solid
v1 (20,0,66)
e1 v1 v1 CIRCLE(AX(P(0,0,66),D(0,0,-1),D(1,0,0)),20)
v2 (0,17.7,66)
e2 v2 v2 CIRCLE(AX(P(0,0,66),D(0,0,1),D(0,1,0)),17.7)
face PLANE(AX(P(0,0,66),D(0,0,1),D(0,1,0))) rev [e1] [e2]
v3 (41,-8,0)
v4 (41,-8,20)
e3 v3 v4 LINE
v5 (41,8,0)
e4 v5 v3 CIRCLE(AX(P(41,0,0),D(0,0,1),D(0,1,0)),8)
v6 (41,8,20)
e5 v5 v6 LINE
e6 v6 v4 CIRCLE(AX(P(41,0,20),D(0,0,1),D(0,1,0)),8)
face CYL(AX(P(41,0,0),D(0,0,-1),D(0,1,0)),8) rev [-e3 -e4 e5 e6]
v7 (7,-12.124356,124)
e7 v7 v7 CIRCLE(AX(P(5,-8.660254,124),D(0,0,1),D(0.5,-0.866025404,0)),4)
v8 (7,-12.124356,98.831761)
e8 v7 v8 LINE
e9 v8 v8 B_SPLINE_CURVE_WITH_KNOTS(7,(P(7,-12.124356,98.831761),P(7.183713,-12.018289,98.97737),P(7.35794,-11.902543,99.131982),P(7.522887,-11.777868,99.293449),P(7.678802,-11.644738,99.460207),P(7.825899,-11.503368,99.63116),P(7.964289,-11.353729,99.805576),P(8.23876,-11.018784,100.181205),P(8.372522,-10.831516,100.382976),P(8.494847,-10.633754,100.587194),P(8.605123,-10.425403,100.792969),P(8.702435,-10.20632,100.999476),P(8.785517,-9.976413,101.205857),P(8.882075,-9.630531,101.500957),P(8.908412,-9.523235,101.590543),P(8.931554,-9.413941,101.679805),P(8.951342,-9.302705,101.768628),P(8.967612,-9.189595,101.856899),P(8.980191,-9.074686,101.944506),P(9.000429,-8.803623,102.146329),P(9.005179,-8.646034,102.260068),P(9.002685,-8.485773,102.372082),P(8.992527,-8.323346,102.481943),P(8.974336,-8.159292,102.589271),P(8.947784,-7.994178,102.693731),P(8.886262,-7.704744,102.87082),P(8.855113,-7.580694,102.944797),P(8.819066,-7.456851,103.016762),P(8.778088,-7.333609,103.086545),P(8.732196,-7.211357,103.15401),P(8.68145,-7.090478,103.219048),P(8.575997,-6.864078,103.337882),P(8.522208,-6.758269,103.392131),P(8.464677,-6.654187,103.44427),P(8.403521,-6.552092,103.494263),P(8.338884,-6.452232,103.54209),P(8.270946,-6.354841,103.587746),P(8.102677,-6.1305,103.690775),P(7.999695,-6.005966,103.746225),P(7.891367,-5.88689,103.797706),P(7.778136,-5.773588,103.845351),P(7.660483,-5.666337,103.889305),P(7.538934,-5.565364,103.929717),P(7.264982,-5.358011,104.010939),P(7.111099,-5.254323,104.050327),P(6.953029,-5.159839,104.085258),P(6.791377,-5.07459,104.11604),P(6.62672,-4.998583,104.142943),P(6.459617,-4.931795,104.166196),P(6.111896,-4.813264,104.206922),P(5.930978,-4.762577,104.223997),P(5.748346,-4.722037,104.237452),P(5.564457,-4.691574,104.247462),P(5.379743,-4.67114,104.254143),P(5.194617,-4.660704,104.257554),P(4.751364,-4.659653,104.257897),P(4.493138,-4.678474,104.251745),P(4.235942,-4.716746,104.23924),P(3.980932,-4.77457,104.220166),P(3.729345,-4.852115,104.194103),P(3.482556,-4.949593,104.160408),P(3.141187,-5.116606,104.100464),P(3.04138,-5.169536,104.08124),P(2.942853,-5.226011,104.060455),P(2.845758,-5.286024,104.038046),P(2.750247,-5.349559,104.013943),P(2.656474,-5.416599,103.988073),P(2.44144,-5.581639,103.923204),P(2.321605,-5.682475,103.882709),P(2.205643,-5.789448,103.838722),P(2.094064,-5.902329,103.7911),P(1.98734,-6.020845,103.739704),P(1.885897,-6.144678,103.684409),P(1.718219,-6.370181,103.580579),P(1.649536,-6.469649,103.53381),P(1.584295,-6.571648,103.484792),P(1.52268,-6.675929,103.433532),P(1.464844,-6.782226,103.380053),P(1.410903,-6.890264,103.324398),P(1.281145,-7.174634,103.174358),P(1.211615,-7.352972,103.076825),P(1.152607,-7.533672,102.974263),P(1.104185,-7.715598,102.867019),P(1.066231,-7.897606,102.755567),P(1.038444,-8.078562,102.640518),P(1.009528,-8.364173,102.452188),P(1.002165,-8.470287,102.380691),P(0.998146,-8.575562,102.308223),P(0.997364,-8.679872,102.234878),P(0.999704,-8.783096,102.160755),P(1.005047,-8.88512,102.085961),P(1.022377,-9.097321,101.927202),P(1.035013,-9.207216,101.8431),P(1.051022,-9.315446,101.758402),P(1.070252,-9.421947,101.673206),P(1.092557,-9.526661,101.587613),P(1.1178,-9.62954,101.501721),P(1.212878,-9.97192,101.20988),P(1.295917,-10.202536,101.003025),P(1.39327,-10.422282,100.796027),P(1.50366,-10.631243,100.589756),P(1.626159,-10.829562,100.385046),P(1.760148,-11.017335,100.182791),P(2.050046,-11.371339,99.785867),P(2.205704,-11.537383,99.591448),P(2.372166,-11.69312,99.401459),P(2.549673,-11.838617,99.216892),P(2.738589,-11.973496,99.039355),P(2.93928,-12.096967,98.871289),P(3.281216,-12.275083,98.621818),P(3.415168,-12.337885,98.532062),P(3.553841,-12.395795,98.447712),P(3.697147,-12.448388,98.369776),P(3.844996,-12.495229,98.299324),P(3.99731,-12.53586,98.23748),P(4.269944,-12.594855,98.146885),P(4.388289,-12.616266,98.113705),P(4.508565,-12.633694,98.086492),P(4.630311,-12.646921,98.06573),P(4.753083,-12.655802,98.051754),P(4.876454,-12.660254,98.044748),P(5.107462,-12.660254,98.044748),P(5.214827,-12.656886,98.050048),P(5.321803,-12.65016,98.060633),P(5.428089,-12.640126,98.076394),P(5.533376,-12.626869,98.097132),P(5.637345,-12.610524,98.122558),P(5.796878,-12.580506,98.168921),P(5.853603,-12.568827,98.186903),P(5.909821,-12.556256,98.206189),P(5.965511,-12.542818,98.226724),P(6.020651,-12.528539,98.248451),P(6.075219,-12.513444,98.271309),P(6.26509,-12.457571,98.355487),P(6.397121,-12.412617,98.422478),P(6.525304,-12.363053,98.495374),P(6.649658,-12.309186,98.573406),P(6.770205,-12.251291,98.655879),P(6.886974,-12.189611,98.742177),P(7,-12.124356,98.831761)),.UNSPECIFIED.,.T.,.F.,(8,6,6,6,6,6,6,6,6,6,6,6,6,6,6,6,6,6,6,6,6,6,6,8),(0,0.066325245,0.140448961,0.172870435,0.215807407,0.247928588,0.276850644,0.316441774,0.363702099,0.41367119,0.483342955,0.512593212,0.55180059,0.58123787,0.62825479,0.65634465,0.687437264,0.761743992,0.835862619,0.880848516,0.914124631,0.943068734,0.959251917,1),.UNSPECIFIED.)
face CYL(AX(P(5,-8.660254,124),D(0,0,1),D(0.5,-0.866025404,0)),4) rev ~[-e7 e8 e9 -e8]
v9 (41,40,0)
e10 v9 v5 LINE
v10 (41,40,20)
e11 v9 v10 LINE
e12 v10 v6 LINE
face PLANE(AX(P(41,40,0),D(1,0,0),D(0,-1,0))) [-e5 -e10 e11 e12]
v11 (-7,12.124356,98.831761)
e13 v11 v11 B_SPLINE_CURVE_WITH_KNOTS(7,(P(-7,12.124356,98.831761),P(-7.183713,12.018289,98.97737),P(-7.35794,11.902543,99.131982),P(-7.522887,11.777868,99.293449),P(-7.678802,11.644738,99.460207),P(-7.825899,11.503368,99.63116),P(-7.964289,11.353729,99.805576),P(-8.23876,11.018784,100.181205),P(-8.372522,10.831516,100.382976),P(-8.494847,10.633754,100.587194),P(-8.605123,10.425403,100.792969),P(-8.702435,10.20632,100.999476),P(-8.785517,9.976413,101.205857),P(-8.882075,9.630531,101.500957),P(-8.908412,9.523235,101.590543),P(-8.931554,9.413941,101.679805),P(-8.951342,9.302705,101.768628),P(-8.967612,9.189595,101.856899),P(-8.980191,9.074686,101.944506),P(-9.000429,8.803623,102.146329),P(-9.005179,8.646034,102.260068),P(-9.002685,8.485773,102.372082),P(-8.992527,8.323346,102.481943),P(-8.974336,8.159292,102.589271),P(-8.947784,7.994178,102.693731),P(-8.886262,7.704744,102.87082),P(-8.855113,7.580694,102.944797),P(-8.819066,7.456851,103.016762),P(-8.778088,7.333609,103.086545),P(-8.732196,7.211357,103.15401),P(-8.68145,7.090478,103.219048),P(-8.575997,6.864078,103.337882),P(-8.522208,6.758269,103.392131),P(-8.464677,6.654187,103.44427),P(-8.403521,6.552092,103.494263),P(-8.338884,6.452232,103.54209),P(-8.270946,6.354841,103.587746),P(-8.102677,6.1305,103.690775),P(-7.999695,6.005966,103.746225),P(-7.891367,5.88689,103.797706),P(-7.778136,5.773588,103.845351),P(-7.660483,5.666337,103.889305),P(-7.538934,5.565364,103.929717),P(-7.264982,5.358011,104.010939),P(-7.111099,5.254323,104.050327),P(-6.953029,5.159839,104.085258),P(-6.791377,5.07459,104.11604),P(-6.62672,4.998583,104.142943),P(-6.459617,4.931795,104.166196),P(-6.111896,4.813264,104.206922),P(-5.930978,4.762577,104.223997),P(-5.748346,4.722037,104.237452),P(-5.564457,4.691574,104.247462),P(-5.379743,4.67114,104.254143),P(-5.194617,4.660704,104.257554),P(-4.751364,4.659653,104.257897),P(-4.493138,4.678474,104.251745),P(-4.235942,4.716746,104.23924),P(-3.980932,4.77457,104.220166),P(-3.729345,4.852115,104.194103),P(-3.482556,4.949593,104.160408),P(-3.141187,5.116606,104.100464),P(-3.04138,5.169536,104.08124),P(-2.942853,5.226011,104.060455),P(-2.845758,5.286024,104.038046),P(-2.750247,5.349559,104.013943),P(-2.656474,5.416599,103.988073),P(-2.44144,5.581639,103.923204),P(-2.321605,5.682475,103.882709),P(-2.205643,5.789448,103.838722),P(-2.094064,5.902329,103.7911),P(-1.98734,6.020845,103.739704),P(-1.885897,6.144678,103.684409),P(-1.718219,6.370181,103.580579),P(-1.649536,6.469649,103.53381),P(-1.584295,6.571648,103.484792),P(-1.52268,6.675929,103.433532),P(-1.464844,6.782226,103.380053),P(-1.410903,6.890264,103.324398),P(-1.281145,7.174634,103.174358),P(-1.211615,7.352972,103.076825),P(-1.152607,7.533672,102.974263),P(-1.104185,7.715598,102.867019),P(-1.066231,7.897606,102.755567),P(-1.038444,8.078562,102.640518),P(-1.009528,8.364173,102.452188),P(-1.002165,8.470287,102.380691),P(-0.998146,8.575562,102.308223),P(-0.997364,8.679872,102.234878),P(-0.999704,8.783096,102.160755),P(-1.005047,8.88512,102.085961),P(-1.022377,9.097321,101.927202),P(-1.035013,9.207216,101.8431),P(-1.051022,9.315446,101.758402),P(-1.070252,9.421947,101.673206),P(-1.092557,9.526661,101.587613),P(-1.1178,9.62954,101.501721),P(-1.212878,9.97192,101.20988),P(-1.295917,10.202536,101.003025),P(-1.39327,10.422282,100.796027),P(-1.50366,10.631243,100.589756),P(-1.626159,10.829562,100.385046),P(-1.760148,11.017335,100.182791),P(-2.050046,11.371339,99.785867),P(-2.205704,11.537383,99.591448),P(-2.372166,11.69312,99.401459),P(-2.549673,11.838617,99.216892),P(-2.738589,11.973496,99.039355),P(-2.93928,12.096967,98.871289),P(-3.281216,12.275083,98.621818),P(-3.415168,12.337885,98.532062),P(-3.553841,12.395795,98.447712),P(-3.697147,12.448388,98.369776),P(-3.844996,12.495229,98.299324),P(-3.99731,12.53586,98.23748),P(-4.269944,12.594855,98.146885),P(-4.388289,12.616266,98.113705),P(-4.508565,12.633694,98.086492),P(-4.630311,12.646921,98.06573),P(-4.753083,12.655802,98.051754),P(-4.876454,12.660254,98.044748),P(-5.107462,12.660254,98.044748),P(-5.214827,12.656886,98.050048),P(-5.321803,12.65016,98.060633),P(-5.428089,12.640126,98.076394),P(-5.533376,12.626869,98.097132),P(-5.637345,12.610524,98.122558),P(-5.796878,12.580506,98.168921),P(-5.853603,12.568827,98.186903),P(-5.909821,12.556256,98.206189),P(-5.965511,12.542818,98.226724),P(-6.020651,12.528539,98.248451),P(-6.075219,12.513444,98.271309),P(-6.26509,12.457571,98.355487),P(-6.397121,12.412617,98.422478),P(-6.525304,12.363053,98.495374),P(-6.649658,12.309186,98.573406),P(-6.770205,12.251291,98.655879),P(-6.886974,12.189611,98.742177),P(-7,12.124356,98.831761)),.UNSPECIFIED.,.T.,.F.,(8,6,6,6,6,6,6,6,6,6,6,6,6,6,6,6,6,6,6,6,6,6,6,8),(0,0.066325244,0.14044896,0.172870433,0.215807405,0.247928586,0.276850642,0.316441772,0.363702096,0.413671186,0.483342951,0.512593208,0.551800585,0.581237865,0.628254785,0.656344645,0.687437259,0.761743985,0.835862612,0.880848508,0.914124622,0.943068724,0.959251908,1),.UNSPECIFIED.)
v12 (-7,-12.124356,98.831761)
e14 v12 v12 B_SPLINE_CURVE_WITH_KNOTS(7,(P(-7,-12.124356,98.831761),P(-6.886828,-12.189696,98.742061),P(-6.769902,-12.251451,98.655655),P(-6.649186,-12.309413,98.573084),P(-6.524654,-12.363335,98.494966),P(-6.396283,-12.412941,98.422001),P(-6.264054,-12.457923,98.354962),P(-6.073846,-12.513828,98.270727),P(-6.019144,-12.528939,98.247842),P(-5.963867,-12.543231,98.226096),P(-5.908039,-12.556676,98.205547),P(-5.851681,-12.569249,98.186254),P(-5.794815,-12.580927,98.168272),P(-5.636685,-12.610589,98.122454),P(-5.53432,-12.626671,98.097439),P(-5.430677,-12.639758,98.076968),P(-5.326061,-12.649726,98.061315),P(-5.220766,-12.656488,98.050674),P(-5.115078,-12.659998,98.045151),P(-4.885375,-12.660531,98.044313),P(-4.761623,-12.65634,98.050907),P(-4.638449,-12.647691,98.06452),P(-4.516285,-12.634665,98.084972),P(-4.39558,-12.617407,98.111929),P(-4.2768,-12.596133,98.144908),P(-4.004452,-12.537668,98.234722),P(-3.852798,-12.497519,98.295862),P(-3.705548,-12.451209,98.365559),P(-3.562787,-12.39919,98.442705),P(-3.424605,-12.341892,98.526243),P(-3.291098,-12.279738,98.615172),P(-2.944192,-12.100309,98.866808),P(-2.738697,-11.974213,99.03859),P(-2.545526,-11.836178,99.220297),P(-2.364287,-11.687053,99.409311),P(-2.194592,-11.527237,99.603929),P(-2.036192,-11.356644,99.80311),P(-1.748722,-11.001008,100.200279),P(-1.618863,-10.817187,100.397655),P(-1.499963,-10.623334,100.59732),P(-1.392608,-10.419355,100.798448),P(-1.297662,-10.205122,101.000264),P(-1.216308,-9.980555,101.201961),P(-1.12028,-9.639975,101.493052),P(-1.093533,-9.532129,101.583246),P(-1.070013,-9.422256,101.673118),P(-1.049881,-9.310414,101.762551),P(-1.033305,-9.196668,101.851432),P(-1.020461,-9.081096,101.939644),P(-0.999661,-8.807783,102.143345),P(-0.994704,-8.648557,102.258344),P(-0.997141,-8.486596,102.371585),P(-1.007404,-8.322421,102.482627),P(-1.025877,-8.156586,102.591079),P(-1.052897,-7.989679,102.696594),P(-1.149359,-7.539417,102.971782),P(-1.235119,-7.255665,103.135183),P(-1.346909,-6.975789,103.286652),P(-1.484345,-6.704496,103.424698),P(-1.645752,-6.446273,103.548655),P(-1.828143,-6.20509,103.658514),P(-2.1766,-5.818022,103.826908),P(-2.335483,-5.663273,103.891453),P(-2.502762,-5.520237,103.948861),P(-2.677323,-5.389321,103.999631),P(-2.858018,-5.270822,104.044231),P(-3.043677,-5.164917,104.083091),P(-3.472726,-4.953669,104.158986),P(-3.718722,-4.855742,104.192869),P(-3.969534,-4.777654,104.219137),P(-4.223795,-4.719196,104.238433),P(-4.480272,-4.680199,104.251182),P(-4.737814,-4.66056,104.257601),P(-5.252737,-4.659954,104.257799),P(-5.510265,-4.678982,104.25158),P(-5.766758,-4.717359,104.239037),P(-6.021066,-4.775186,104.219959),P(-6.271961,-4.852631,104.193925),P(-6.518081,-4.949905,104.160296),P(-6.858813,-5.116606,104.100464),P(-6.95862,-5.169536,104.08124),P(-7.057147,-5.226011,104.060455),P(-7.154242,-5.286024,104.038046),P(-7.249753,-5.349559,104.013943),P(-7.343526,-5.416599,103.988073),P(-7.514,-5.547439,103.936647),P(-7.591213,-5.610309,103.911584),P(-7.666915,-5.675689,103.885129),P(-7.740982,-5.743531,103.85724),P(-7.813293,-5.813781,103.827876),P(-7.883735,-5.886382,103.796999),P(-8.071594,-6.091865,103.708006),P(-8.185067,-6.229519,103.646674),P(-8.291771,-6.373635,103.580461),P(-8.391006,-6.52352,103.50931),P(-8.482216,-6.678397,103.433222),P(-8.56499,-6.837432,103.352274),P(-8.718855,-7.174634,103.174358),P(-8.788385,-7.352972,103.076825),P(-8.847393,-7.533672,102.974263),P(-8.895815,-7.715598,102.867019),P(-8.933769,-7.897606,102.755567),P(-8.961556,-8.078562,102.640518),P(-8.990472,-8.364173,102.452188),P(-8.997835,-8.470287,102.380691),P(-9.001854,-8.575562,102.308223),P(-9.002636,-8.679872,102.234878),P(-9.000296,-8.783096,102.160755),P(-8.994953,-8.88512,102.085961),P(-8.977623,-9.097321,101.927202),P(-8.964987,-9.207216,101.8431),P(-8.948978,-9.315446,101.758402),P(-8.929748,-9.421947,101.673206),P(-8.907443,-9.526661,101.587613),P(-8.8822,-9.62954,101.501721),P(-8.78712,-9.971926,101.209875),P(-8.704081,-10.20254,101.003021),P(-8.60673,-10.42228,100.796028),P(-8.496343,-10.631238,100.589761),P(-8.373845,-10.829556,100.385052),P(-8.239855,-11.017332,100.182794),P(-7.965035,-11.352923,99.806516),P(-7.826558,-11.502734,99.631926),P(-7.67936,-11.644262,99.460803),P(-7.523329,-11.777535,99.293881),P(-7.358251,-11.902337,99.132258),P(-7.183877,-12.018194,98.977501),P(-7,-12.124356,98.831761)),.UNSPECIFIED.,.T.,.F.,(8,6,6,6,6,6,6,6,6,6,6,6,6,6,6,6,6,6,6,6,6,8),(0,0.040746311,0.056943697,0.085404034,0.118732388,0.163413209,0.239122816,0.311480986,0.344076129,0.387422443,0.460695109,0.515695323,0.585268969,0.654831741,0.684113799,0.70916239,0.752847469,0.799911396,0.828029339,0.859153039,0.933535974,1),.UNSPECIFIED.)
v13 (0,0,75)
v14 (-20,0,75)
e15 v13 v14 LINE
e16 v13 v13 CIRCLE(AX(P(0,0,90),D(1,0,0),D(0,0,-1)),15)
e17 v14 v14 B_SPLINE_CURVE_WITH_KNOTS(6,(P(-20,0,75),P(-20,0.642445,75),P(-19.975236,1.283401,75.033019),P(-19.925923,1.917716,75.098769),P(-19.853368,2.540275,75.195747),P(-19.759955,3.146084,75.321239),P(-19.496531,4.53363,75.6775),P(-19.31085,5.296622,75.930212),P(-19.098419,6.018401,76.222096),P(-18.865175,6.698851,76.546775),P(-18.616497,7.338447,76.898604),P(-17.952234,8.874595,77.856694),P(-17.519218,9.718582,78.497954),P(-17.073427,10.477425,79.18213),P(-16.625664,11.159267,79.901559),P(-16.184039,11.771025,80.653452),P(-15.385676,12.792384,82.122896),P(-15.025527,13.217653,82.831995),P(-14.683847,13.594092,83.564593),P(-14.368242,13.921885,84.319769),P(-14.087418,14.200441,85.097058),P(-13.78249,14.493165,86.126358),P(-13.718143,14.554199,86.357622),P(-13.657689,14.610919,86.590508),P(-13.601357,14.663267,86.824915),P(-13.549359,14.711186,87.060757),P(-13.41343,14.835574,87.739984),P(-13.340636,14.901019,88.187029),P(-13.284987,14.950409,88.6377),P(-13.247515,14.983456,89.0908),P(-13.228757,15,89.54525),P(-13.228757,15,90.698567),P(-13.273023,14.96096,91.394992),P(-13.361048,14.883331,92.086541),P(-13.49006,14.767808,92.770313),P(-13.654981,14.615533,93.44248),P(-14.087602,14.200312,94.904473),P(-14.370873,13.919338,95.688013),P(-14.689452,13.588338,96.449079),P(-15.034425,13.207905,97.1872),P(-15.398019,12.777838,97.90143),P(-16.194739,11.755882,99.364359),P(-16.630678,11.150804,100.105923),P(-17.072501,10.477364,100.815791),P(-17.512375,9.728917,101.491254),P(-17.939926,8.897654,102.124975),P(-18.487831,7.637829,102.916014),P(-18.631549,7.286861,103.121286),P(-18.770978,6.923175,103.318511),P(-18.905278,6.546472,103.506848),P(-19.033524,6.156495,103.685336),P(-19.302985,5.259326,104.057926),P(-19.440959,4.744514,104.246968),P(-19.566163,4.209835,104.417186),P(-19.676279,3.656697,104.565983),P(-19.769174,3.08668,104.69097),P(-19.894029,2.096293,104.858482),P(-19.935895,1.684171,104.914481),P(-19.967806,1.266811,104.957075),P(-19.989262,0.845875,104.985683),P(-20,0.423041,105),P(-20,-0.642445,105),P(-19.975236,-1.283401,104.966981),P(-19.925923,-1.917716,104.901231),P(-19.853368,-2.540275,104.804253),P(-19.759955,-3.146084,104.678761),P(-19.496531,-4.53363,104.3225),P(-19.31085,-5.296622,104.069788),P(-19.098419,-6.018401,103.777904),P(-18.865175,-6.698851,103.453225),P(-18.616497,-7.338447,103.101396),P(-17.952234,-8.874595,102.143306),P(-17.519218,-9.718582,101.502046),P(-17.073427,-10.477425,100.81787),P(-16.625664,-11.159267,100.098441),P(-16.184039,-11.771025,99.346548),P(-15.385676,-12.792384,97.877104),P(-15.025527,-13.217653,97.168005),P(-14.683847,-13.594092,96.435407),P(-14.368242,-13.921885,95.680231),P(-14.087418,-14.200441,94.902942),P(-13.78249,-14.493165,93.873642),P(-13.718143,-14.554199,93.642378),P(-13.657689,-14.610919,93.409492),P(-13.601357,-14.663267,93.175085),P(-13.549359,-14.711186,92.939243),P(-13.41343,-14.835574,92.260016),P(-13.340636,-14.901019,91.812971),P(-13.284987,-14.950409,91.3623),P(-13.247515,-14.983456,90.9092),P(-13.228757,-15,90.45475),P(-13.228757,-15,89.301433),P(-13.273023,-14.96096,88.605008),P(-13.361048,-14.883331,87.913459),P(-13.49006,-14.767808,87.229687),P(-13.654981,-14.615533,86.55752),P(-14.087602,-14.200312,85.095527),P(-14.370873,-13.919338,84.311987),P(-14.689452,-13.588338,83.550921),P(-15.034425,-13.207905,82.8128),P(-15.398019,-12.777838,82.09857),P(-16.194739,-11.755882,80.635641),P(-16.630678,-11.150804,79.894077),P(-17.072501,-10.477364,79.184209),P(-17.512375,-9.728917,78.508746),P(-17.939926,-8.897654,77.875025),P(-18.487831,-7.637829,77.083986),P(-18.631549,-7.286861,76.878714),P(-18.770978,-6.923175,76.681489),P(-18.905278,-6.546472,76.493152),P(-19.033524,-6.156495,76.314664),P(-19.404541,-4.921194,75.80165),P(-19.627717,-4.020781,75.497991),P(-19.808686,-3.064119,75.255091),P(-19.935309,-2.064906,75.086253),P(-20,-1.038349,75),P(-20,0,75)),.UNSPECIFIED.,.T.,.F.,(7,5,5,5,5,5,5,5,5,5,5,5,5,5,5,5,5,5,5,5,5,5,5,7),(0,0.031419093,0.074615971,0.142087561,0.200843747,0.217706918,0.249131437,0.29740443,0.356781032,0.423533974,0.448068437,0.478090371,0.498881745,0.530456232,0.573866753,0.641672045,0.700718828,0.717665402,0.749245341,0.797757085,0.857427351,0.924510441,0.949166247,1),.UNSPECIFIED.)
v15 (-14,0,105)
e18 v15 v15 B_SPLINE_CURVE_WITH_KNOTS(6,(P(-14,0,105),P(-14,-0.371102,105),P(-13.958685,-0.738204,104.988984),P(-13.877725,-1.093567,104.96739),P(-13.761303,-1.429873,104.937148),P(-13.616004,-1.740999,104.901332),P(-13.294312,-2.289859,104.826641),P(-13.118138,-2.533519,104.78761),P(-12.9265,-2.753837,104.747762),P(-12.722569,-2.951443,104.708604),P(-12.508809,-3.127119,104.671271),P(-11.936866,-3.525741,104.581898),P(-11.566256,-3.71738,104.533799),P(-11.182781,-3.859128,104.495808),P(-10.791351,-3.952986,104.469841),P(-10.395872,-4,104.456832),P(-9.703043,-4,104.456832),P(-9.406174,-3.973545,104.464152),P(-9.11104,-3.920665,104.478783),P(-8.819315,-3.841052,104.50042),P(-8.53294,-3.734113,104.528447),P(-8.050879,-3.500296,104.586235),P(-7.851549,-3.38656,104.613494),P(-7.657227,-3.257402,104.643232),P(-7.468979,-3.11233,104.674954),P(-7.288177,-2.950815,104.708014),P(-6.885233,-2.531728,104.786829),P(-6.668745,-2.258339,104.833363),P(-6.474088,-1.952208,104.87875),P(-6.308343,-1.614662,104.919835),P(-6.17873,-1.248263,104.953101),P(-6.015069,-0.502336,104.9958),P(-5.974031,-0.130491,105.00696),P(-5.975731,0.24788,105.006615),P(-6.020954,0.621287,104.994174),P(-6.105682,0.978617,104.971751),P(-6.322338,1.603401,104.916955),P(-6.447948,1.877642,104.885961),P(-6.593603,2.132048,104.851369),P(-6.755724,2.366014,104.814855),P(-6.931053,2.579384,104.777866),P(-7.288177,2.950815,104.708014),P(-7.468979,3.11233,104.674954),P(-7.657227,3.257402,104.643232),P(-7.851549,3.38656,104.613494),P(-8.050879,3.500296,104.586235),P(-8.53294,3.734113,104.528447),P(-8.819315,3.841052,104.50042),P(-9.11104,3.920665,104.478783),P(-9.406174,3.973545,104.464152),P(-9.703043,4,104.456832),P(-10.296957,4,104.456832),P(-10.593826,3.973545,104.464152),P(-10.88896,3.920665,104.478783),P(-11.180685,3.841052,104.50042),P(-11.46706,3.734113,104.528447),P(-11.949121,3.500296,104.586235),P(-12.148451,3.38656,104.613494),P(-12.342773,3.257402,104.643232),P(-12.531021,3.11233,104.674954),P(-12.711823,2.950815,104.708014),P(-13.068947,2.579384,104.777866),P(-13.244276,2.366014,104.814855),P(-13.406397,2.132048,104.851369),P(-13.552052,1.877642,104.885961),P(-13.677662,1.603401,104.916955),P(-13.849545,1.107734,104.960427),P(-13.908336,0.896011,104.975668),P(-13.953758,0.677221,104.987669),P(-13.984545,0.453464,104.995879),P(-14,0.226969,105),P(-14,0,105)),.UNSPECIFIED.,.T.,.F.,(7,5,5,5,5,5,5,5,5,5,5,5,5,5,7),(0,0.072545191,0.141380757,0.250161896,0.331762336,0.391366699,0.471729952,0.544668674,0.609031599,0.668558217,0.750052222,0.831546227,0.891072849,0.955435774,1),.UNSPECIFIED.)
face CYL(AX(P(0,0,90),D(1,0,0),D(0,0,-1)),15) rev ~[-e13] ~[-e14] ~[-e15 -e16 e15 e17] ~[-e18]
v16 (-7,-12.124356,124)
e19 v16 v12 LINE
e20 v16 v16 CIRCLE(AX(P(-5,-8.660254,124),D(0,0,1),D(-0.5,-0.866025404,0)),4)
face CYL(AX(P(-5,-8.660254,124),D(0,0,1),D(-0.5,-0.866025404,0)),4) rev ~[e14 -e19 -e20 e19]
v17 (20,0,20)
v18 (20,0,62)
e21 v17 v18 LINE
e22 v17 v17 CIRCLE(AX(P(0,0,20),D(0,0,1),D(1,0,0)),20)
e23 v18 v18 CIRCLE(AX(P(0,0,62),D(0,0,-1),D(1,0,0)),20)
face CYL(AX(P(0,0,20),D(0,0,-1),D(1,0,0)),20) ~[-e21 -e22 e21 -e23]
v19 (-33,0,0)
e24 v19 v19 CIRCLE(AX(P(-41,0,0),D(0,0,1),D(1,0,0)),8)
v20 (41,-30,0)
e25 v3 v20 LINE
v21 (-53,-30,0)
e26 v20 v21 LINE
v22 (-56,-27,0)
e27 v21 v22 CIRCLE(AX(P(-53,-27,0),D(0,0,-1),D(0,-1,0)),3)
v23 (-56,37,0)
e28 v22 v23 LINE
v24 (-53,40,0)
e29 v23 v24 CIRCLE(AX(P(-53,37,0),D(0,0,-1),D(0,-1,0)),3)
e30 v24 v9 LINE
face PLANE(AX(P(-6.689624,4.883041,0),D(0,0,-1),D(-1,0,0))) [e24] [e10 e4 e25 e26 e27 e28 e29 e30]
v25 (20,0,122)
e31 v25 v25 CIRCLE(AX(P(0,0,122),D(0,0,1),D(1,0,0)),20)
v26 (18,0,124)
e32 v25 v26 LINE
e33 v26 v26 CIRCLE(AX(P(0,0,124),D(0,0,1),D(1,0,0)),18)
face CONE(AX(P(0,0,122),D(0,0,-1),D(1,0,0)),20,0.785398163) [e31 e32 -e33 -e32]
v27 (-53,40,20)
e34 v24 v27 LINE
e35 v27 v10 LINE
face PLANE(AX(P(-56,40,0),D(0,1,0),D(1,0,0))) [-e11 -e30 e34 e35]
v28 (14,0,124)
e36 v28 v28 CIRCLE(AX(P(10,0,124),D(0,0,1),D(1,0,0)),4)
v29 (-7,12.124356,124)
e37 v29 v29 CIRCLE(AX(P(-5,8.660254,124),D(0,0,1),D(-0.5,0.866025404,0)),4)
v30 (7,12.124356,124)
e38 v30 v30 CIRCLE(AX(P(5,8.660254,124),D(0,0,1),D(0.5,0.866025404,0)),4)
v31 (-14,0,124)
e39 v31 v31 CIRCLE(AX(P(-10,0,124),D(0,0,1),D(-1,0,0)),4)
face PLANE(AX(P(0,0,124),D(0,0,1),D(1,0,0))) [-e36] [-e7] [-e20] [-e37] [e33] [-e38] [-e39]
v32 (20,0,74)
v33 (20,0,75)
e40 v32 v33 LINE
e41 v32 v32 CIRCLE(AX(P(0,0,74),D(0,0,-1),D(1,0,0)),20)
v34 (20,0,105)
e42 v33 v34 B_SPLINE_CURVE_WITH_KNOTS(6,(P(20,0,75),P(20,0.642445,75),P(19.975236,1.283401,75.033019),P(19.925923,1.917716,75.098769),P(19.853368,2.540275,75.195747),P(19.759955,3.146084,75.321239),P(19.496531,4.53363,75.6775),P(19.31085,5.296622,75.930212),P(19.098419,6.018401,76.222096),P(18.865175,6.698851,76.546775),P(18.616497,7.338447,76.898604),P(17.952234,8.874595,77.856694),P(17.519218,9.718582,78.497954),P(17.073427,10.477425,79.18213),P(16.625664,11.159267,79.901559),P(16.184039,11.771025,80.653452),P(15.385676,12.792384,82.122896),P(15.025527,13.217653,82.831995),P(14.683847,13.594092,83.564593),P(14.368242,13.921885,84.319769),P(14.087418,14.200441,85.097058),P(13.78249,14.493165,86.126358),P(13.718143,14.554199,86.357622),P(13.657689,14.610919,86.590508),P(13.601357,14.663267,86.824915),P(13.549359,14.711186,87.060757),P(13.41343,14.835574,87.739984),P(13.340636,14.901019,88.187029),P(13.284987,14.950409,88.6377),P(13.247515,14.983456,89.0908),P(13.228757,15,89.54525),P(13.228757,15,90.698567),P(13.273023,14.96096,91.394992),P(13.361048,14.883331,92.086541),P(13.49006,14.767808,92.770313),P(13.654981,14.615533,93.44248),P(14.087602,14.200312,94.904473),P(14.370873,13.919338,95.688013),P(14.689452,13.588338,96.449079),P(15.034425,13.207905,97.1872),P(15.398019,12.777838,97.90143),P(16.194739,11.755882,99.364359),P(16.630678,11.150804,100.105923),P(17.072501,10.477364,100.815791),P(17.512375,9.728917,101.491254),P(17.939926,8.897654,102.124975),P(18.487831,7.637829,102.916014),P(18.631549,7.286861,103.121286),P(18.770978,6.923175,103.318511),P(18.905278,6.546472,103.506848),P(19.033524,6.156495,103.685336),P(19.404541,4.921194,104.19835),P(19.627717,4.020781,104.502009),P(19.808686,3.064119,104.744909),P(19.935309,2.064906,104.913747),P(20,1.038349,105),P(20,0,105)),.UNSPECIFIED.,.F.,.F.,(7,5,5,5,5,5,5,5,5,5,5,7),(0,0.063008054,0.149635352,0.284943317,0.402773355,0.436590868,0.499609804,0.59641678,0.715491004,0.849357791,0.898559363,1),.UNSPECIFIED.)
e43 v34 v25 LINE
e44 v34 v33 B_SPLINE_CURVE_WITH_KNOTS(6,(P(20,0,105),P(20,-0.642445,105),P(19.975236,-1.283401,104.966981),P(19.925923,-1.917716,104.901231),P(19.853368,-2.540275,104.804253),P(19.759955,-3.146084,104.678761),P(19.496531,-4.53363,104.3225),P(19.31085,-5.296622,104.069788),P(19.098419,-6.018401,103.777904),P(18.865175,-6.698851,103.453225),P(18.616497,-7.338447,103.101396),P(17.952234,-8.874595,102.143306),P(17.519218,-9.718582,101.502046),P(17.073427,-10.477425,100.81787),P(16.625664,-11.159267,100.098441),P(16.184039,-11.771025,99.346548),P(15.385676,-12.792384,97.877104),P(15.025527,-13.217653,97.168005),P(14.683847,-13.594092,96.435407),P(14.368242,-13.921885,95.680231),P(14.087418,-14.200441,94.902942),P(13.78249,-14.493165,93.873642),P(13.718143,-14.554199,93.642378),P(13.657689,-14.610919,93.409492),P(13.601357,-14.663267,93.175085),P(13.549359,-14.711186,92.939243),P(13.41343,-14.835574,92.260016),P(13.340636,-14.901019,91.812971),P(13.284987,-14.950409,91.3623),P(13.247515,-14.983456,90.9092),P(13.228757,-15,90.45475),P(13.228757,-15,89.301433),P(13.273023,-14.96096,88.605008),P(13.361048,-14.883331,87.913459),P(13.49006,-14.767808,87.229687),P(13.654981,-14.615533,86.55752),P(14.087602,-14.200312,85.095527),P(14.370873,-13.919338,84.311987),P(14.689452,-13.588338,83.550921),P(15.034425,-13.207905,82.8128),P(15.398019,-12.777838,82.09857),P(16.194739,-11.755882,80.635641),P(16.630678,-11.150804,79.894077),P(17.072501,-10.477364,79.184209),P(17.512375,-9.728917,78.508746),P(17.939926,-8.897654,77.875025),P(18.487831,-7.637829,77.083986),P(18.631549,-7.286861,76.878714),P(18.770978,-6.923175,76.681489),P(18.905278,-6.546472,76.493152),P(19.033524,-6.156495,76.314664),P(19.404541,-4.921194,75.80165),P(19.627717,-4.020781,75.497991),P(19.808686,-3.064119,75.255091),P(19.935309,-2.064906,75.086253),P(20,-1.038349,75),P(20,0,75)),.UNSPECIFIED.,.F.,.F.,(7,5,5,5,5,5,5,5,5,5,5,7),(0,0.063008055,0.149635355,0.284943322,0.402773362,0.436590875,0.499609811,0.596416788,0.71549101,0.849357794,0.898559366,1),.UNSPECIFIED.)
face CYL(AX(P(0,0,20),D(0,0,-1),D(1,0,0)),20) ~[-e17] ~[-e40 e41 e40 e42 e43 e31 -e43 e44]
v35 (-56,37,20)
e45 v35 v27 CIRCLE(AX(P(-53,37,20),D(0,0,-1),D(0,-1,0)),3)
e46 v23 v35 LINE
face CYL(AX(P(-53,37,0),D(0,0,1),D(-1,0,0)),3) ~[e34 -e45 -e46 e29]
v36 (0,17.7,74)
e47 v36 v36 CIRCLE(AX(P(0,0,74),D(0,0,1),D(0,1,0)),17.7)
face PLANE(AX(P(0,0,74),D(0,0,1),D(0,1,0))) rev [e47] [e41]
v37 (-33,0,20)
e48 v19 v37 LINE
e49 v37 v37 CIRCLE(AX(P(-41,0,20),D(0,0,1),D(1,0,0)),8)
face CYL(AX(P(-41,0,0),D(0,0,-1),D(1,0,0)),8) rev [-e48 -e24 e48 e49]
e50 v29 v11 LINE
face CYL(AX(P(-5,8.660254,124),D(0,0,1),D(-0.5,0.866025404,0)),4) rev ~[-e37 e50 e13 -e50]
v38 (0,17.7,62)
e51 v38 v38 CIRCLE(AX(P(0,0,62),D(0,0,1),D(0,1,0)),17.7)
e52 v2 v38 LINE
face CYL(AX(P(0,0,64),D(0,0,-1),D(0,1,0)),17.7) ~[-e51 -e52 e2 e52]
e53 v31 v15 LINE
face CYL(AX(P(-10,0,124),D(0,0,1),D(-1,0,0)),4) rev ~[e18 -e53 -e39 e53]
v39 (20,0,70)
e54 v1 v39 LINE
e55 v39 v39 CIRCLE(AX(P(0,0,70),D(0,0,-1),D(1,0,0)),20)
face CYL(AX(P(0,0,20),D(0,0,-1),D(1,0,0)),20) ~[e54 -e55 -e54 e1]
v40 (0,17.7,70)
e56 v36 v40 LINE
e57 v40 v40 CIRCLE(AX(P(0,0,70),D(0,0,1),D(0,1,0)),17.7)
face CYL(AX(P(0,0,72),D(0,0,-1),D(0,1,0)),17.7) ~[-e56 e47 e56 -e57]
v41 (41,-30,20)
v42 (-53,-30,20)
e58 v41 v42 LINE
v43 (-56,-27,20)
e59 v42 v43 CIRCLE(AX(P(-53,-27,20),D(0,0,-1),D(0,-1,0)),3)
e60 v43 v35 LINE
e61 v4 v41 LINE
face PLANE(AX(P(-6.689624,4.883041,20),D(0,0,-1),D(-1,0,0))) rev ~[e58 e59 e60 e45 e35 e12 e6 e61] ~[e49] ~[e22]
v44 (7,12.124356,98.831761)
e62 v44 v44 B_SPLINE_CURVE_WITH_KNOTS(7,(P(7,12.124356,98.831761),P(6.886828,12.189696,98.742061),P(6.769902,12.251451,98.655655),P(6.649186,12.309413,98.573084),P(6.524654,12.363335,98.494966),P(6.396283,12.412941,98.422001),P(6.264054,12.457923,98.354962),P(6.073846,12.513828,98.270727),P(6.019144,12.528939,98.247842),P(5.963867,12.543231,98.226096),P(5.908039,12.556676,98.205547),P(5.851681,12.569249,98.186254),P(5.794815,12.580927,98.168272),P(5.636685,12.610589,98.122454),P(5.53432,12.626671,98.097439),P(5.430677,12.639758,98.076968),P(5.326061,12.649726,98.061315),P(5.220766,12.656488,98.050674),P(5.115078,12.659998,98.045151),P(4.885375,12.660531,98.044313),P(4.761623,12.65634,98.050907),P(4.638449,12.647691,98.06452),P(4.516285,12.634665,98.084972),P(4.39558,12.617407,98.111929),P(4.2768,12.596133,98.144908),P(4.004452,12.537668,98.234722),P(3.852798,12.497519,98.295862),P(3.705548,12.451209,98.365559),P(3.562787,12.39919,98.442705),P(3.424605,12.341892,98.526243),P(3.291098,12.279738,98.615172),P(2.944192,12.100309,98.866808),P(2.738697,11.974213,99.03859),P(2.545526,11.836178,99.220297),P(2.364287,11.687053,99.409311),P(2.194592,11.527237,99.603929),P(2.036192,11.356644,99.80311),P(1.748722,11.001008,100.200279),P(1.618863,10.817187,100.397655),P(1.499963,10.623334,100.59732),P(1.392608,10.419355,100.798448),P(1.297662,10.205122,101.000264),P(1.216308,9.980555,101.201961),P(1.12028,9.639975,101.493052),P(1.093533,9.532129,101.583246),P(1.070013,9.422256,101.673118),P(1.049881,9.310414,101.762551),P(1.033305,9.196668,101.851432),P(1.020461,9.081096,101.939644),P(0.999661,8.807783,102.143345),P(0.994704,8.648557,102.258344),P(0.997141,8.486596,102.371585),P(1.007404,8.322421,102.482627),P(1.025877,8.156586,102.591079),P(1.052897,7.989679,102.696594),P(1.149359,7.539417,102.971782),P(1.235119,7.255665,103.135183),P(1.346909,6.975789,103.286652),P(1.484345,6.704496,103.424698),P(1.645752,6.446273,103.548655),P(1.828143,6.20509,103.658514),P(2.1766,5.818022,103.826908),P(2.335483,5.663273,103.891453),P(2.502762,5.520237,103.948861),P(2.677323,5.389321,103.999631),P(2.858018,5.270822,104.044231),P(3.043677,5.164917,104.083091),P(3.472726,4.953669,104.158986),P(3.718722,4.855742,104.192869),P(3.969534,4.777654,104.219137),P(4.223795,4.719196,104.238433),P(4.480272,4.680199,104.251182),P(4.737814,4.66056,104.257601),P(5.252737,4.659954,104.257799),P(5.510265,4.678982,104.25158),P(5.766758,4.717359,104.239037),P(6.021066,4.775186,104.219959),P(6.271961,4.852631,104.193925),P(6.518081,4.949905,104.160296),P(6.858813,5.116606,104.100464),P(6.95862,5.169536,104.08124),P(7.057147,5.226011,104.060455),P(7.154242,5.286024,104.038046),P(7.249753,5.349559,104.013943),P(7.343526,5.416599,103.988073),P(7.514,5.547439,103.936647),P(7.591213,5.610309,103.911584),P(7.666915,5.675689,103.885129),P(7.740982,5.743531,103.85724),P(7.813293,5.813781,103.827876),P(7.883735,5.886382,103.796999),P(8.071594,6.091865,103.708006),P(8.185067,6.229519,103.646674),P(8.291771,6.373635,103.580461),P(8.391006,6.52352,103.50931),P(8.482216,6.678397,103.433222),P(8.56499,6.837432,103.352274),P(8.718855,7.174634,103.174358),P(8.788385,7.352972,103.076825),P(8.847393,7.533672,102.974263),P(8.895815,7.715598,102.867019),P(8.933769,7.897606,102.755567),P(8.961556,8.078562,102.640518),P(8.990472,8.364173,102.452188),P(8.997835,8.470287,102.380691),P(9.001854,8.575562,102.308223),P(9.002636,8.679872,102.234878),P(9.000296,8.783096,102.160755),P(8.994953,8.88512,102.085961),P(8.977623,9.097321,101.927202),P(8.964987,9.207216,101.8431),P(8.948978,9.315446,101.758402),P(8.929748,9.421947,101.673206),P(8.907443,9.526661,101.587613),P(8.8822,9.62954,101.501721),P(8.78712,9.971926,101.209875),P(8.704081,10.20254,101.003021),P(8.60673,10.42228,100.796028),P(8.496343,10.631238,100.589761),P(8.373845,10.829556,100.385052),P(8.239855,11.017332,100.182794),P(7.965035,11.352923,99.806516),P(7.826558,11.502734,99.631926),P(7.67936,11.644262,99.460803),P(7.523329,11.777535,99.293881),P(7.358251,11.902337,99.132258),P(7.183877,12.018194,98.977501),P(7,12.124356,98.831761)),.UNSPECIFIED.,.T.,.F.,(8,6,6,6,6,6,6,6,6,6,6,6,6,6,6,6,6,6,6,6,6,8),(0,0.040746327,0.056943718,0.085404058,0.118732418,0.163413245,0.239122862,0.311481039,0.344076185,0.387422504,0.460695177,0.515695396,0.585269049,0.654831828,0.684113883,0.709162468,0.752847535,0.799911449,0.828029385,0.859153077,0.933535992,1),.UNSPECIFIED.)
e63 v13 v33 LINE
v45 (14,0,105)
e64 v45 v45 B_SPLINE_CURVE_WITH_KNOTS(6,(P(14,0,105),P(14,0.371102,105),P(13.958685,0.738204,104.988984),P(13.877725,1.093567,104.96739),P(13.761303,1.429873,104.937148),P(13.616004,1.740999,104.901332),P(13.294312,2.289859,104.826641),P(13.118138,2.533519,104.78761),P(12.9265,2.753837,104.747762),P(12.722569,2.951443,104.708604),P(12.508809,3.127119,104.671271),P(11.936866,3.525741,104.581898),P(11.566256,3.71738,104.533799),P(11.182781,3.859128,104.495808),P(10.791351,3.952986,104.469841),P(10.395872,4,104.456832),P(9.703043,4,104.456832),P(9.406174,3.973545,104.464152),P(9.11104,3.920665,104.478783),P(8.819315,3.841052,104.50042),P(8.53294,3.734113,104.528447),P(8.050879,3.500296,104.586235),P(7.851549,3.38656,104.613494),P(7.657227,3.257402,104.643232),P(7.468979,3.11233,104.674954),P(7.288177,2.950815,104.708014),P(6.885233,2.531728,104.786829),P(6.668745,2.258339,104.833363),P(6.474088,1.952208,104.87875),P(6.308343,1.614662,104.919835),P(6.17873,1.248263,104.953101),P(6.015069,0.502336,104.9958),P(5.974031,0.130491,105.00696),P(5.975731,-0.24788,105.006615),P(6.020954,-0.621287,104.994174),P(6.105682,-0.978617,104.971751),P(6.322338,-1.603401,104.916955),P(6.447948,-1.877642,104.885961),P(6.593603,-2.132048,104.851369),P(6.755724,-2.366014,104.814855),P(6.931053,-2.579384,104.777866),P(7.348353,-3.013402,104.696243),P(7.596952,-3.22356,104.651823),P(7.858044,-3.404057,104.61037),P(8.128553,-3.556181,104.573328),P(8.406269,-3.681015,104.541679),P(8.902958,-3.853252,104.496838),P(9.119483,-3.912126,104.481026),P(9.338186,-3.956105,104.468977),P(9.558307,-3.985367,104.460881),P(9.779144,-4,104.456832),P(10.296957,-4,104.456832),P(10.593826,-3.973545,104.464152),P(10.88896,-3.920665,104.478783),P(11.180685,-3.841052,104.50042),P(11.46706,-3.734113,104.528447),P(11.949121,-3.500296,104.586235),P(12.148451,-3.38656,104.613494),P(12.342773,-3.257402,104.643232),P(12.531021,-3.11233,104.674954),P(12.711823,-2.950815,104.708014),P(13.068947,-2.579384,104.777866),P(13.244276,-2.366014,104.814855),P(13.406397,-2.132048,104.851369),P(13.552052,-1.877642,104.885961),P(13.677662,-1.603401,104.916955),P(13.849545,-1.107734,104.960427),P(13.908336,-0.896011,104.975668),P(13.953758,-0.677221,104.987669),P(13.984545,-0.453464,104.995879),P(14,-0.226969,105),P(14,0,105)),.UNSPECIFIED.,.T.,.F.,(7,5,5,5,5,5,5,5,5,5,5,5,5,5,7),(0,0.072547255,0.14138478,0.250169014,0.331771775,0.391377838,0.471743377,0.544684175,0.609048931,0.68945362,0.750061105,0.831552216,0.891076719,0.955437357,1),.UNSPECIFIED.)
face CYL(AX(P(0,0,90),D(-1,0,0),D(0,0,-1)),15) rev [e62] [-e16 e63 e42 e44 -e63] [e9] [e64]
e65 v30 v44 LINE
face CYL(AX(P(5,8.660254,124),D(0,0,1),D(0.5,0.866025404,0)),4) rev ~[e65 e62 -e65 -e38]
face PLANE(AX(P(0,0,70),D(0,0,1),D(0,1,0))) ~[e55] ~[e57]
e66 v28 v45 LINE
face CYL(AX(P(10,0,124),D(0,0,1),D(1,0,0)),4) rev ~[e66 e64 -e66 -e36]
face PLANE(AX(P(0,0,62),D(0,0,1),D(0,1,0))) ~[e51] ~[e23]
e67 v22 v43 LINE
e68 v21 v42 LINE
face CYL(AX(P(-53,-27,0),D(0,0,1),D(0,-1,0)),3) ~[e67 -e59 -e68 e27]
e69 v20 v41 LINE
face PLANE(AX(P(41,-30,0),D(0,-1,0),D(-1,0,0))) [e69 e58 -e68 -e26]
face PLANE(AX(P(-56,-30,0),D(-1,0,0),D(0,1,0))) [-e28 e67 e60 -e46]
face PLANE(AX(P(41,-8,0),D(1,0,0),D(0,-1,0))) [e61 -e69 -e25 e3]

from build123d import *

# Parameters (mm, degrees)
SKETCH1_R               = 8
BOSS_EXTRUDE1_DEPTH     = 20
SKETCH2_R               = 20
BOSS_EXTRUDE2_DEPTH     = 104
SKETCH3_R               = 15
CUT_EXTRUDE1_DEPTH      = 42
CUT_EXTRUDE1_DEPTH_BACK = 57
SKETCH4_W               = 4
SKETCH4_H               = 2.3
SKETCH5_R               = 4
CUT_EXTRUDE2_DEPTH      = 30
CIRPATTERN1_COUNT       = 6
FILLET1_R               = 3
CHAMFER1_SIZE           = 2


with BuildPart() as part:
    # Sketch1 → Boss-Extrude1 (new body)
    with BuildSketch(Plane.XY):
        with BuildLine():
            Line((41, -8), (41, -30))
            Line((41, -30), (-56, -30))
            Line((-56, -30), (-56, 40))
            Line((-56, 40), (41, 40))
            Line((41, 40), (41, 8))
            ThreePointArc((41, 8), (33, 0), (41, -8))
        make_face()
        with Locations((-41, 0)):
            Circle(SKETCH1_R, mode=Mode.SUBTRACT)
    extrude(amount=BOSS_EXTRUDE1_DEPTH)

    # Sketch2 → Boss-Extrude2 (add)
    with BuildSketch(Plane.XY.offset(20)):
        Circle(SKETCH2_R)
    extrude(amount=BOSS_EXTRUDE2_DEPTH)

    # Sketch3 → Cut-Extrude1 (cut, two sides)
    with BuildSketch(Plane(origin=(0, 0, 0), x_dir=(0, 0, -1), z_dir=(1, 0, 0))) as cut_extrude1_sk:
        with Locations((-90, 0)):
            Circle(SKETCH3_R)
    extrude(amount=CUT_EXTRUDE1_DEPTH, mode=Mode.SUBTRACT)
    extrude(cut_extrude1_sk.sketch, amount=-CUT_EXTRUDE1_DEPTH_BACK, mode=Mode.SUBTRACT)

    # Sketch4 → Cut-Revolve1 (revolve, cut)
    with BuildSketch(Plane(origin=(0, 0, 0), x_dir=(0, 0, -1), z_dir=(1, 0, 0))):
        with Locations((-72, 18.85)):
            Rectangle(SKETCH4_W, SKETCH4_H)
        with Locations((-64, 18.85)):
            Rectangle(SKETCH4_W, SKETCH4_H)
    revolve(axis=Axis((0, 0, 0), (0, 0, 1)), mode=Mode.SUBTRACT)

    # Sketch5 → Cut-Extrude2 (cut)
    with BuildSketch(Plane.XY.offset(124)):
        with Locations((10, 0)):
            Circle(SKETCH5_R)
    cut_extrude2 = extrude(amount=-CUT_EXTRUDE2_DEPTH, mode=Mode.SUBTRACT)

    # CirPattern1: Cut-Extrude2 ×6 about axis
    cirpattern1_axis = Axis((0, 0, 0), (0, 0, 1))
    for i in range(1, CIRPATTERN1_COUNT):
        add(cut_extrude2.rotate(cirpattern1_axis, i * 360 / CIRPATTERN1_COUNT), mode=Mode.SUBTRACT)

    # Fillet1
    fillet1_edges = [part.edges().sort_by_distance(p)[0] for p in [
        (-56, -30, 10),
        (-56, 40, 10),
    ]]
    fillet(fillet1_edges, radius=FILLET1_R)

    # Chamfer1
    chamfer1_edges = [part.edges().sort_by_distance(p)[0] for p in [
        (-20, 0, 124),
    ]]
    chamfer(chamfer1_edges, length=CHAMFER1_SIZE)


solid = part.part
